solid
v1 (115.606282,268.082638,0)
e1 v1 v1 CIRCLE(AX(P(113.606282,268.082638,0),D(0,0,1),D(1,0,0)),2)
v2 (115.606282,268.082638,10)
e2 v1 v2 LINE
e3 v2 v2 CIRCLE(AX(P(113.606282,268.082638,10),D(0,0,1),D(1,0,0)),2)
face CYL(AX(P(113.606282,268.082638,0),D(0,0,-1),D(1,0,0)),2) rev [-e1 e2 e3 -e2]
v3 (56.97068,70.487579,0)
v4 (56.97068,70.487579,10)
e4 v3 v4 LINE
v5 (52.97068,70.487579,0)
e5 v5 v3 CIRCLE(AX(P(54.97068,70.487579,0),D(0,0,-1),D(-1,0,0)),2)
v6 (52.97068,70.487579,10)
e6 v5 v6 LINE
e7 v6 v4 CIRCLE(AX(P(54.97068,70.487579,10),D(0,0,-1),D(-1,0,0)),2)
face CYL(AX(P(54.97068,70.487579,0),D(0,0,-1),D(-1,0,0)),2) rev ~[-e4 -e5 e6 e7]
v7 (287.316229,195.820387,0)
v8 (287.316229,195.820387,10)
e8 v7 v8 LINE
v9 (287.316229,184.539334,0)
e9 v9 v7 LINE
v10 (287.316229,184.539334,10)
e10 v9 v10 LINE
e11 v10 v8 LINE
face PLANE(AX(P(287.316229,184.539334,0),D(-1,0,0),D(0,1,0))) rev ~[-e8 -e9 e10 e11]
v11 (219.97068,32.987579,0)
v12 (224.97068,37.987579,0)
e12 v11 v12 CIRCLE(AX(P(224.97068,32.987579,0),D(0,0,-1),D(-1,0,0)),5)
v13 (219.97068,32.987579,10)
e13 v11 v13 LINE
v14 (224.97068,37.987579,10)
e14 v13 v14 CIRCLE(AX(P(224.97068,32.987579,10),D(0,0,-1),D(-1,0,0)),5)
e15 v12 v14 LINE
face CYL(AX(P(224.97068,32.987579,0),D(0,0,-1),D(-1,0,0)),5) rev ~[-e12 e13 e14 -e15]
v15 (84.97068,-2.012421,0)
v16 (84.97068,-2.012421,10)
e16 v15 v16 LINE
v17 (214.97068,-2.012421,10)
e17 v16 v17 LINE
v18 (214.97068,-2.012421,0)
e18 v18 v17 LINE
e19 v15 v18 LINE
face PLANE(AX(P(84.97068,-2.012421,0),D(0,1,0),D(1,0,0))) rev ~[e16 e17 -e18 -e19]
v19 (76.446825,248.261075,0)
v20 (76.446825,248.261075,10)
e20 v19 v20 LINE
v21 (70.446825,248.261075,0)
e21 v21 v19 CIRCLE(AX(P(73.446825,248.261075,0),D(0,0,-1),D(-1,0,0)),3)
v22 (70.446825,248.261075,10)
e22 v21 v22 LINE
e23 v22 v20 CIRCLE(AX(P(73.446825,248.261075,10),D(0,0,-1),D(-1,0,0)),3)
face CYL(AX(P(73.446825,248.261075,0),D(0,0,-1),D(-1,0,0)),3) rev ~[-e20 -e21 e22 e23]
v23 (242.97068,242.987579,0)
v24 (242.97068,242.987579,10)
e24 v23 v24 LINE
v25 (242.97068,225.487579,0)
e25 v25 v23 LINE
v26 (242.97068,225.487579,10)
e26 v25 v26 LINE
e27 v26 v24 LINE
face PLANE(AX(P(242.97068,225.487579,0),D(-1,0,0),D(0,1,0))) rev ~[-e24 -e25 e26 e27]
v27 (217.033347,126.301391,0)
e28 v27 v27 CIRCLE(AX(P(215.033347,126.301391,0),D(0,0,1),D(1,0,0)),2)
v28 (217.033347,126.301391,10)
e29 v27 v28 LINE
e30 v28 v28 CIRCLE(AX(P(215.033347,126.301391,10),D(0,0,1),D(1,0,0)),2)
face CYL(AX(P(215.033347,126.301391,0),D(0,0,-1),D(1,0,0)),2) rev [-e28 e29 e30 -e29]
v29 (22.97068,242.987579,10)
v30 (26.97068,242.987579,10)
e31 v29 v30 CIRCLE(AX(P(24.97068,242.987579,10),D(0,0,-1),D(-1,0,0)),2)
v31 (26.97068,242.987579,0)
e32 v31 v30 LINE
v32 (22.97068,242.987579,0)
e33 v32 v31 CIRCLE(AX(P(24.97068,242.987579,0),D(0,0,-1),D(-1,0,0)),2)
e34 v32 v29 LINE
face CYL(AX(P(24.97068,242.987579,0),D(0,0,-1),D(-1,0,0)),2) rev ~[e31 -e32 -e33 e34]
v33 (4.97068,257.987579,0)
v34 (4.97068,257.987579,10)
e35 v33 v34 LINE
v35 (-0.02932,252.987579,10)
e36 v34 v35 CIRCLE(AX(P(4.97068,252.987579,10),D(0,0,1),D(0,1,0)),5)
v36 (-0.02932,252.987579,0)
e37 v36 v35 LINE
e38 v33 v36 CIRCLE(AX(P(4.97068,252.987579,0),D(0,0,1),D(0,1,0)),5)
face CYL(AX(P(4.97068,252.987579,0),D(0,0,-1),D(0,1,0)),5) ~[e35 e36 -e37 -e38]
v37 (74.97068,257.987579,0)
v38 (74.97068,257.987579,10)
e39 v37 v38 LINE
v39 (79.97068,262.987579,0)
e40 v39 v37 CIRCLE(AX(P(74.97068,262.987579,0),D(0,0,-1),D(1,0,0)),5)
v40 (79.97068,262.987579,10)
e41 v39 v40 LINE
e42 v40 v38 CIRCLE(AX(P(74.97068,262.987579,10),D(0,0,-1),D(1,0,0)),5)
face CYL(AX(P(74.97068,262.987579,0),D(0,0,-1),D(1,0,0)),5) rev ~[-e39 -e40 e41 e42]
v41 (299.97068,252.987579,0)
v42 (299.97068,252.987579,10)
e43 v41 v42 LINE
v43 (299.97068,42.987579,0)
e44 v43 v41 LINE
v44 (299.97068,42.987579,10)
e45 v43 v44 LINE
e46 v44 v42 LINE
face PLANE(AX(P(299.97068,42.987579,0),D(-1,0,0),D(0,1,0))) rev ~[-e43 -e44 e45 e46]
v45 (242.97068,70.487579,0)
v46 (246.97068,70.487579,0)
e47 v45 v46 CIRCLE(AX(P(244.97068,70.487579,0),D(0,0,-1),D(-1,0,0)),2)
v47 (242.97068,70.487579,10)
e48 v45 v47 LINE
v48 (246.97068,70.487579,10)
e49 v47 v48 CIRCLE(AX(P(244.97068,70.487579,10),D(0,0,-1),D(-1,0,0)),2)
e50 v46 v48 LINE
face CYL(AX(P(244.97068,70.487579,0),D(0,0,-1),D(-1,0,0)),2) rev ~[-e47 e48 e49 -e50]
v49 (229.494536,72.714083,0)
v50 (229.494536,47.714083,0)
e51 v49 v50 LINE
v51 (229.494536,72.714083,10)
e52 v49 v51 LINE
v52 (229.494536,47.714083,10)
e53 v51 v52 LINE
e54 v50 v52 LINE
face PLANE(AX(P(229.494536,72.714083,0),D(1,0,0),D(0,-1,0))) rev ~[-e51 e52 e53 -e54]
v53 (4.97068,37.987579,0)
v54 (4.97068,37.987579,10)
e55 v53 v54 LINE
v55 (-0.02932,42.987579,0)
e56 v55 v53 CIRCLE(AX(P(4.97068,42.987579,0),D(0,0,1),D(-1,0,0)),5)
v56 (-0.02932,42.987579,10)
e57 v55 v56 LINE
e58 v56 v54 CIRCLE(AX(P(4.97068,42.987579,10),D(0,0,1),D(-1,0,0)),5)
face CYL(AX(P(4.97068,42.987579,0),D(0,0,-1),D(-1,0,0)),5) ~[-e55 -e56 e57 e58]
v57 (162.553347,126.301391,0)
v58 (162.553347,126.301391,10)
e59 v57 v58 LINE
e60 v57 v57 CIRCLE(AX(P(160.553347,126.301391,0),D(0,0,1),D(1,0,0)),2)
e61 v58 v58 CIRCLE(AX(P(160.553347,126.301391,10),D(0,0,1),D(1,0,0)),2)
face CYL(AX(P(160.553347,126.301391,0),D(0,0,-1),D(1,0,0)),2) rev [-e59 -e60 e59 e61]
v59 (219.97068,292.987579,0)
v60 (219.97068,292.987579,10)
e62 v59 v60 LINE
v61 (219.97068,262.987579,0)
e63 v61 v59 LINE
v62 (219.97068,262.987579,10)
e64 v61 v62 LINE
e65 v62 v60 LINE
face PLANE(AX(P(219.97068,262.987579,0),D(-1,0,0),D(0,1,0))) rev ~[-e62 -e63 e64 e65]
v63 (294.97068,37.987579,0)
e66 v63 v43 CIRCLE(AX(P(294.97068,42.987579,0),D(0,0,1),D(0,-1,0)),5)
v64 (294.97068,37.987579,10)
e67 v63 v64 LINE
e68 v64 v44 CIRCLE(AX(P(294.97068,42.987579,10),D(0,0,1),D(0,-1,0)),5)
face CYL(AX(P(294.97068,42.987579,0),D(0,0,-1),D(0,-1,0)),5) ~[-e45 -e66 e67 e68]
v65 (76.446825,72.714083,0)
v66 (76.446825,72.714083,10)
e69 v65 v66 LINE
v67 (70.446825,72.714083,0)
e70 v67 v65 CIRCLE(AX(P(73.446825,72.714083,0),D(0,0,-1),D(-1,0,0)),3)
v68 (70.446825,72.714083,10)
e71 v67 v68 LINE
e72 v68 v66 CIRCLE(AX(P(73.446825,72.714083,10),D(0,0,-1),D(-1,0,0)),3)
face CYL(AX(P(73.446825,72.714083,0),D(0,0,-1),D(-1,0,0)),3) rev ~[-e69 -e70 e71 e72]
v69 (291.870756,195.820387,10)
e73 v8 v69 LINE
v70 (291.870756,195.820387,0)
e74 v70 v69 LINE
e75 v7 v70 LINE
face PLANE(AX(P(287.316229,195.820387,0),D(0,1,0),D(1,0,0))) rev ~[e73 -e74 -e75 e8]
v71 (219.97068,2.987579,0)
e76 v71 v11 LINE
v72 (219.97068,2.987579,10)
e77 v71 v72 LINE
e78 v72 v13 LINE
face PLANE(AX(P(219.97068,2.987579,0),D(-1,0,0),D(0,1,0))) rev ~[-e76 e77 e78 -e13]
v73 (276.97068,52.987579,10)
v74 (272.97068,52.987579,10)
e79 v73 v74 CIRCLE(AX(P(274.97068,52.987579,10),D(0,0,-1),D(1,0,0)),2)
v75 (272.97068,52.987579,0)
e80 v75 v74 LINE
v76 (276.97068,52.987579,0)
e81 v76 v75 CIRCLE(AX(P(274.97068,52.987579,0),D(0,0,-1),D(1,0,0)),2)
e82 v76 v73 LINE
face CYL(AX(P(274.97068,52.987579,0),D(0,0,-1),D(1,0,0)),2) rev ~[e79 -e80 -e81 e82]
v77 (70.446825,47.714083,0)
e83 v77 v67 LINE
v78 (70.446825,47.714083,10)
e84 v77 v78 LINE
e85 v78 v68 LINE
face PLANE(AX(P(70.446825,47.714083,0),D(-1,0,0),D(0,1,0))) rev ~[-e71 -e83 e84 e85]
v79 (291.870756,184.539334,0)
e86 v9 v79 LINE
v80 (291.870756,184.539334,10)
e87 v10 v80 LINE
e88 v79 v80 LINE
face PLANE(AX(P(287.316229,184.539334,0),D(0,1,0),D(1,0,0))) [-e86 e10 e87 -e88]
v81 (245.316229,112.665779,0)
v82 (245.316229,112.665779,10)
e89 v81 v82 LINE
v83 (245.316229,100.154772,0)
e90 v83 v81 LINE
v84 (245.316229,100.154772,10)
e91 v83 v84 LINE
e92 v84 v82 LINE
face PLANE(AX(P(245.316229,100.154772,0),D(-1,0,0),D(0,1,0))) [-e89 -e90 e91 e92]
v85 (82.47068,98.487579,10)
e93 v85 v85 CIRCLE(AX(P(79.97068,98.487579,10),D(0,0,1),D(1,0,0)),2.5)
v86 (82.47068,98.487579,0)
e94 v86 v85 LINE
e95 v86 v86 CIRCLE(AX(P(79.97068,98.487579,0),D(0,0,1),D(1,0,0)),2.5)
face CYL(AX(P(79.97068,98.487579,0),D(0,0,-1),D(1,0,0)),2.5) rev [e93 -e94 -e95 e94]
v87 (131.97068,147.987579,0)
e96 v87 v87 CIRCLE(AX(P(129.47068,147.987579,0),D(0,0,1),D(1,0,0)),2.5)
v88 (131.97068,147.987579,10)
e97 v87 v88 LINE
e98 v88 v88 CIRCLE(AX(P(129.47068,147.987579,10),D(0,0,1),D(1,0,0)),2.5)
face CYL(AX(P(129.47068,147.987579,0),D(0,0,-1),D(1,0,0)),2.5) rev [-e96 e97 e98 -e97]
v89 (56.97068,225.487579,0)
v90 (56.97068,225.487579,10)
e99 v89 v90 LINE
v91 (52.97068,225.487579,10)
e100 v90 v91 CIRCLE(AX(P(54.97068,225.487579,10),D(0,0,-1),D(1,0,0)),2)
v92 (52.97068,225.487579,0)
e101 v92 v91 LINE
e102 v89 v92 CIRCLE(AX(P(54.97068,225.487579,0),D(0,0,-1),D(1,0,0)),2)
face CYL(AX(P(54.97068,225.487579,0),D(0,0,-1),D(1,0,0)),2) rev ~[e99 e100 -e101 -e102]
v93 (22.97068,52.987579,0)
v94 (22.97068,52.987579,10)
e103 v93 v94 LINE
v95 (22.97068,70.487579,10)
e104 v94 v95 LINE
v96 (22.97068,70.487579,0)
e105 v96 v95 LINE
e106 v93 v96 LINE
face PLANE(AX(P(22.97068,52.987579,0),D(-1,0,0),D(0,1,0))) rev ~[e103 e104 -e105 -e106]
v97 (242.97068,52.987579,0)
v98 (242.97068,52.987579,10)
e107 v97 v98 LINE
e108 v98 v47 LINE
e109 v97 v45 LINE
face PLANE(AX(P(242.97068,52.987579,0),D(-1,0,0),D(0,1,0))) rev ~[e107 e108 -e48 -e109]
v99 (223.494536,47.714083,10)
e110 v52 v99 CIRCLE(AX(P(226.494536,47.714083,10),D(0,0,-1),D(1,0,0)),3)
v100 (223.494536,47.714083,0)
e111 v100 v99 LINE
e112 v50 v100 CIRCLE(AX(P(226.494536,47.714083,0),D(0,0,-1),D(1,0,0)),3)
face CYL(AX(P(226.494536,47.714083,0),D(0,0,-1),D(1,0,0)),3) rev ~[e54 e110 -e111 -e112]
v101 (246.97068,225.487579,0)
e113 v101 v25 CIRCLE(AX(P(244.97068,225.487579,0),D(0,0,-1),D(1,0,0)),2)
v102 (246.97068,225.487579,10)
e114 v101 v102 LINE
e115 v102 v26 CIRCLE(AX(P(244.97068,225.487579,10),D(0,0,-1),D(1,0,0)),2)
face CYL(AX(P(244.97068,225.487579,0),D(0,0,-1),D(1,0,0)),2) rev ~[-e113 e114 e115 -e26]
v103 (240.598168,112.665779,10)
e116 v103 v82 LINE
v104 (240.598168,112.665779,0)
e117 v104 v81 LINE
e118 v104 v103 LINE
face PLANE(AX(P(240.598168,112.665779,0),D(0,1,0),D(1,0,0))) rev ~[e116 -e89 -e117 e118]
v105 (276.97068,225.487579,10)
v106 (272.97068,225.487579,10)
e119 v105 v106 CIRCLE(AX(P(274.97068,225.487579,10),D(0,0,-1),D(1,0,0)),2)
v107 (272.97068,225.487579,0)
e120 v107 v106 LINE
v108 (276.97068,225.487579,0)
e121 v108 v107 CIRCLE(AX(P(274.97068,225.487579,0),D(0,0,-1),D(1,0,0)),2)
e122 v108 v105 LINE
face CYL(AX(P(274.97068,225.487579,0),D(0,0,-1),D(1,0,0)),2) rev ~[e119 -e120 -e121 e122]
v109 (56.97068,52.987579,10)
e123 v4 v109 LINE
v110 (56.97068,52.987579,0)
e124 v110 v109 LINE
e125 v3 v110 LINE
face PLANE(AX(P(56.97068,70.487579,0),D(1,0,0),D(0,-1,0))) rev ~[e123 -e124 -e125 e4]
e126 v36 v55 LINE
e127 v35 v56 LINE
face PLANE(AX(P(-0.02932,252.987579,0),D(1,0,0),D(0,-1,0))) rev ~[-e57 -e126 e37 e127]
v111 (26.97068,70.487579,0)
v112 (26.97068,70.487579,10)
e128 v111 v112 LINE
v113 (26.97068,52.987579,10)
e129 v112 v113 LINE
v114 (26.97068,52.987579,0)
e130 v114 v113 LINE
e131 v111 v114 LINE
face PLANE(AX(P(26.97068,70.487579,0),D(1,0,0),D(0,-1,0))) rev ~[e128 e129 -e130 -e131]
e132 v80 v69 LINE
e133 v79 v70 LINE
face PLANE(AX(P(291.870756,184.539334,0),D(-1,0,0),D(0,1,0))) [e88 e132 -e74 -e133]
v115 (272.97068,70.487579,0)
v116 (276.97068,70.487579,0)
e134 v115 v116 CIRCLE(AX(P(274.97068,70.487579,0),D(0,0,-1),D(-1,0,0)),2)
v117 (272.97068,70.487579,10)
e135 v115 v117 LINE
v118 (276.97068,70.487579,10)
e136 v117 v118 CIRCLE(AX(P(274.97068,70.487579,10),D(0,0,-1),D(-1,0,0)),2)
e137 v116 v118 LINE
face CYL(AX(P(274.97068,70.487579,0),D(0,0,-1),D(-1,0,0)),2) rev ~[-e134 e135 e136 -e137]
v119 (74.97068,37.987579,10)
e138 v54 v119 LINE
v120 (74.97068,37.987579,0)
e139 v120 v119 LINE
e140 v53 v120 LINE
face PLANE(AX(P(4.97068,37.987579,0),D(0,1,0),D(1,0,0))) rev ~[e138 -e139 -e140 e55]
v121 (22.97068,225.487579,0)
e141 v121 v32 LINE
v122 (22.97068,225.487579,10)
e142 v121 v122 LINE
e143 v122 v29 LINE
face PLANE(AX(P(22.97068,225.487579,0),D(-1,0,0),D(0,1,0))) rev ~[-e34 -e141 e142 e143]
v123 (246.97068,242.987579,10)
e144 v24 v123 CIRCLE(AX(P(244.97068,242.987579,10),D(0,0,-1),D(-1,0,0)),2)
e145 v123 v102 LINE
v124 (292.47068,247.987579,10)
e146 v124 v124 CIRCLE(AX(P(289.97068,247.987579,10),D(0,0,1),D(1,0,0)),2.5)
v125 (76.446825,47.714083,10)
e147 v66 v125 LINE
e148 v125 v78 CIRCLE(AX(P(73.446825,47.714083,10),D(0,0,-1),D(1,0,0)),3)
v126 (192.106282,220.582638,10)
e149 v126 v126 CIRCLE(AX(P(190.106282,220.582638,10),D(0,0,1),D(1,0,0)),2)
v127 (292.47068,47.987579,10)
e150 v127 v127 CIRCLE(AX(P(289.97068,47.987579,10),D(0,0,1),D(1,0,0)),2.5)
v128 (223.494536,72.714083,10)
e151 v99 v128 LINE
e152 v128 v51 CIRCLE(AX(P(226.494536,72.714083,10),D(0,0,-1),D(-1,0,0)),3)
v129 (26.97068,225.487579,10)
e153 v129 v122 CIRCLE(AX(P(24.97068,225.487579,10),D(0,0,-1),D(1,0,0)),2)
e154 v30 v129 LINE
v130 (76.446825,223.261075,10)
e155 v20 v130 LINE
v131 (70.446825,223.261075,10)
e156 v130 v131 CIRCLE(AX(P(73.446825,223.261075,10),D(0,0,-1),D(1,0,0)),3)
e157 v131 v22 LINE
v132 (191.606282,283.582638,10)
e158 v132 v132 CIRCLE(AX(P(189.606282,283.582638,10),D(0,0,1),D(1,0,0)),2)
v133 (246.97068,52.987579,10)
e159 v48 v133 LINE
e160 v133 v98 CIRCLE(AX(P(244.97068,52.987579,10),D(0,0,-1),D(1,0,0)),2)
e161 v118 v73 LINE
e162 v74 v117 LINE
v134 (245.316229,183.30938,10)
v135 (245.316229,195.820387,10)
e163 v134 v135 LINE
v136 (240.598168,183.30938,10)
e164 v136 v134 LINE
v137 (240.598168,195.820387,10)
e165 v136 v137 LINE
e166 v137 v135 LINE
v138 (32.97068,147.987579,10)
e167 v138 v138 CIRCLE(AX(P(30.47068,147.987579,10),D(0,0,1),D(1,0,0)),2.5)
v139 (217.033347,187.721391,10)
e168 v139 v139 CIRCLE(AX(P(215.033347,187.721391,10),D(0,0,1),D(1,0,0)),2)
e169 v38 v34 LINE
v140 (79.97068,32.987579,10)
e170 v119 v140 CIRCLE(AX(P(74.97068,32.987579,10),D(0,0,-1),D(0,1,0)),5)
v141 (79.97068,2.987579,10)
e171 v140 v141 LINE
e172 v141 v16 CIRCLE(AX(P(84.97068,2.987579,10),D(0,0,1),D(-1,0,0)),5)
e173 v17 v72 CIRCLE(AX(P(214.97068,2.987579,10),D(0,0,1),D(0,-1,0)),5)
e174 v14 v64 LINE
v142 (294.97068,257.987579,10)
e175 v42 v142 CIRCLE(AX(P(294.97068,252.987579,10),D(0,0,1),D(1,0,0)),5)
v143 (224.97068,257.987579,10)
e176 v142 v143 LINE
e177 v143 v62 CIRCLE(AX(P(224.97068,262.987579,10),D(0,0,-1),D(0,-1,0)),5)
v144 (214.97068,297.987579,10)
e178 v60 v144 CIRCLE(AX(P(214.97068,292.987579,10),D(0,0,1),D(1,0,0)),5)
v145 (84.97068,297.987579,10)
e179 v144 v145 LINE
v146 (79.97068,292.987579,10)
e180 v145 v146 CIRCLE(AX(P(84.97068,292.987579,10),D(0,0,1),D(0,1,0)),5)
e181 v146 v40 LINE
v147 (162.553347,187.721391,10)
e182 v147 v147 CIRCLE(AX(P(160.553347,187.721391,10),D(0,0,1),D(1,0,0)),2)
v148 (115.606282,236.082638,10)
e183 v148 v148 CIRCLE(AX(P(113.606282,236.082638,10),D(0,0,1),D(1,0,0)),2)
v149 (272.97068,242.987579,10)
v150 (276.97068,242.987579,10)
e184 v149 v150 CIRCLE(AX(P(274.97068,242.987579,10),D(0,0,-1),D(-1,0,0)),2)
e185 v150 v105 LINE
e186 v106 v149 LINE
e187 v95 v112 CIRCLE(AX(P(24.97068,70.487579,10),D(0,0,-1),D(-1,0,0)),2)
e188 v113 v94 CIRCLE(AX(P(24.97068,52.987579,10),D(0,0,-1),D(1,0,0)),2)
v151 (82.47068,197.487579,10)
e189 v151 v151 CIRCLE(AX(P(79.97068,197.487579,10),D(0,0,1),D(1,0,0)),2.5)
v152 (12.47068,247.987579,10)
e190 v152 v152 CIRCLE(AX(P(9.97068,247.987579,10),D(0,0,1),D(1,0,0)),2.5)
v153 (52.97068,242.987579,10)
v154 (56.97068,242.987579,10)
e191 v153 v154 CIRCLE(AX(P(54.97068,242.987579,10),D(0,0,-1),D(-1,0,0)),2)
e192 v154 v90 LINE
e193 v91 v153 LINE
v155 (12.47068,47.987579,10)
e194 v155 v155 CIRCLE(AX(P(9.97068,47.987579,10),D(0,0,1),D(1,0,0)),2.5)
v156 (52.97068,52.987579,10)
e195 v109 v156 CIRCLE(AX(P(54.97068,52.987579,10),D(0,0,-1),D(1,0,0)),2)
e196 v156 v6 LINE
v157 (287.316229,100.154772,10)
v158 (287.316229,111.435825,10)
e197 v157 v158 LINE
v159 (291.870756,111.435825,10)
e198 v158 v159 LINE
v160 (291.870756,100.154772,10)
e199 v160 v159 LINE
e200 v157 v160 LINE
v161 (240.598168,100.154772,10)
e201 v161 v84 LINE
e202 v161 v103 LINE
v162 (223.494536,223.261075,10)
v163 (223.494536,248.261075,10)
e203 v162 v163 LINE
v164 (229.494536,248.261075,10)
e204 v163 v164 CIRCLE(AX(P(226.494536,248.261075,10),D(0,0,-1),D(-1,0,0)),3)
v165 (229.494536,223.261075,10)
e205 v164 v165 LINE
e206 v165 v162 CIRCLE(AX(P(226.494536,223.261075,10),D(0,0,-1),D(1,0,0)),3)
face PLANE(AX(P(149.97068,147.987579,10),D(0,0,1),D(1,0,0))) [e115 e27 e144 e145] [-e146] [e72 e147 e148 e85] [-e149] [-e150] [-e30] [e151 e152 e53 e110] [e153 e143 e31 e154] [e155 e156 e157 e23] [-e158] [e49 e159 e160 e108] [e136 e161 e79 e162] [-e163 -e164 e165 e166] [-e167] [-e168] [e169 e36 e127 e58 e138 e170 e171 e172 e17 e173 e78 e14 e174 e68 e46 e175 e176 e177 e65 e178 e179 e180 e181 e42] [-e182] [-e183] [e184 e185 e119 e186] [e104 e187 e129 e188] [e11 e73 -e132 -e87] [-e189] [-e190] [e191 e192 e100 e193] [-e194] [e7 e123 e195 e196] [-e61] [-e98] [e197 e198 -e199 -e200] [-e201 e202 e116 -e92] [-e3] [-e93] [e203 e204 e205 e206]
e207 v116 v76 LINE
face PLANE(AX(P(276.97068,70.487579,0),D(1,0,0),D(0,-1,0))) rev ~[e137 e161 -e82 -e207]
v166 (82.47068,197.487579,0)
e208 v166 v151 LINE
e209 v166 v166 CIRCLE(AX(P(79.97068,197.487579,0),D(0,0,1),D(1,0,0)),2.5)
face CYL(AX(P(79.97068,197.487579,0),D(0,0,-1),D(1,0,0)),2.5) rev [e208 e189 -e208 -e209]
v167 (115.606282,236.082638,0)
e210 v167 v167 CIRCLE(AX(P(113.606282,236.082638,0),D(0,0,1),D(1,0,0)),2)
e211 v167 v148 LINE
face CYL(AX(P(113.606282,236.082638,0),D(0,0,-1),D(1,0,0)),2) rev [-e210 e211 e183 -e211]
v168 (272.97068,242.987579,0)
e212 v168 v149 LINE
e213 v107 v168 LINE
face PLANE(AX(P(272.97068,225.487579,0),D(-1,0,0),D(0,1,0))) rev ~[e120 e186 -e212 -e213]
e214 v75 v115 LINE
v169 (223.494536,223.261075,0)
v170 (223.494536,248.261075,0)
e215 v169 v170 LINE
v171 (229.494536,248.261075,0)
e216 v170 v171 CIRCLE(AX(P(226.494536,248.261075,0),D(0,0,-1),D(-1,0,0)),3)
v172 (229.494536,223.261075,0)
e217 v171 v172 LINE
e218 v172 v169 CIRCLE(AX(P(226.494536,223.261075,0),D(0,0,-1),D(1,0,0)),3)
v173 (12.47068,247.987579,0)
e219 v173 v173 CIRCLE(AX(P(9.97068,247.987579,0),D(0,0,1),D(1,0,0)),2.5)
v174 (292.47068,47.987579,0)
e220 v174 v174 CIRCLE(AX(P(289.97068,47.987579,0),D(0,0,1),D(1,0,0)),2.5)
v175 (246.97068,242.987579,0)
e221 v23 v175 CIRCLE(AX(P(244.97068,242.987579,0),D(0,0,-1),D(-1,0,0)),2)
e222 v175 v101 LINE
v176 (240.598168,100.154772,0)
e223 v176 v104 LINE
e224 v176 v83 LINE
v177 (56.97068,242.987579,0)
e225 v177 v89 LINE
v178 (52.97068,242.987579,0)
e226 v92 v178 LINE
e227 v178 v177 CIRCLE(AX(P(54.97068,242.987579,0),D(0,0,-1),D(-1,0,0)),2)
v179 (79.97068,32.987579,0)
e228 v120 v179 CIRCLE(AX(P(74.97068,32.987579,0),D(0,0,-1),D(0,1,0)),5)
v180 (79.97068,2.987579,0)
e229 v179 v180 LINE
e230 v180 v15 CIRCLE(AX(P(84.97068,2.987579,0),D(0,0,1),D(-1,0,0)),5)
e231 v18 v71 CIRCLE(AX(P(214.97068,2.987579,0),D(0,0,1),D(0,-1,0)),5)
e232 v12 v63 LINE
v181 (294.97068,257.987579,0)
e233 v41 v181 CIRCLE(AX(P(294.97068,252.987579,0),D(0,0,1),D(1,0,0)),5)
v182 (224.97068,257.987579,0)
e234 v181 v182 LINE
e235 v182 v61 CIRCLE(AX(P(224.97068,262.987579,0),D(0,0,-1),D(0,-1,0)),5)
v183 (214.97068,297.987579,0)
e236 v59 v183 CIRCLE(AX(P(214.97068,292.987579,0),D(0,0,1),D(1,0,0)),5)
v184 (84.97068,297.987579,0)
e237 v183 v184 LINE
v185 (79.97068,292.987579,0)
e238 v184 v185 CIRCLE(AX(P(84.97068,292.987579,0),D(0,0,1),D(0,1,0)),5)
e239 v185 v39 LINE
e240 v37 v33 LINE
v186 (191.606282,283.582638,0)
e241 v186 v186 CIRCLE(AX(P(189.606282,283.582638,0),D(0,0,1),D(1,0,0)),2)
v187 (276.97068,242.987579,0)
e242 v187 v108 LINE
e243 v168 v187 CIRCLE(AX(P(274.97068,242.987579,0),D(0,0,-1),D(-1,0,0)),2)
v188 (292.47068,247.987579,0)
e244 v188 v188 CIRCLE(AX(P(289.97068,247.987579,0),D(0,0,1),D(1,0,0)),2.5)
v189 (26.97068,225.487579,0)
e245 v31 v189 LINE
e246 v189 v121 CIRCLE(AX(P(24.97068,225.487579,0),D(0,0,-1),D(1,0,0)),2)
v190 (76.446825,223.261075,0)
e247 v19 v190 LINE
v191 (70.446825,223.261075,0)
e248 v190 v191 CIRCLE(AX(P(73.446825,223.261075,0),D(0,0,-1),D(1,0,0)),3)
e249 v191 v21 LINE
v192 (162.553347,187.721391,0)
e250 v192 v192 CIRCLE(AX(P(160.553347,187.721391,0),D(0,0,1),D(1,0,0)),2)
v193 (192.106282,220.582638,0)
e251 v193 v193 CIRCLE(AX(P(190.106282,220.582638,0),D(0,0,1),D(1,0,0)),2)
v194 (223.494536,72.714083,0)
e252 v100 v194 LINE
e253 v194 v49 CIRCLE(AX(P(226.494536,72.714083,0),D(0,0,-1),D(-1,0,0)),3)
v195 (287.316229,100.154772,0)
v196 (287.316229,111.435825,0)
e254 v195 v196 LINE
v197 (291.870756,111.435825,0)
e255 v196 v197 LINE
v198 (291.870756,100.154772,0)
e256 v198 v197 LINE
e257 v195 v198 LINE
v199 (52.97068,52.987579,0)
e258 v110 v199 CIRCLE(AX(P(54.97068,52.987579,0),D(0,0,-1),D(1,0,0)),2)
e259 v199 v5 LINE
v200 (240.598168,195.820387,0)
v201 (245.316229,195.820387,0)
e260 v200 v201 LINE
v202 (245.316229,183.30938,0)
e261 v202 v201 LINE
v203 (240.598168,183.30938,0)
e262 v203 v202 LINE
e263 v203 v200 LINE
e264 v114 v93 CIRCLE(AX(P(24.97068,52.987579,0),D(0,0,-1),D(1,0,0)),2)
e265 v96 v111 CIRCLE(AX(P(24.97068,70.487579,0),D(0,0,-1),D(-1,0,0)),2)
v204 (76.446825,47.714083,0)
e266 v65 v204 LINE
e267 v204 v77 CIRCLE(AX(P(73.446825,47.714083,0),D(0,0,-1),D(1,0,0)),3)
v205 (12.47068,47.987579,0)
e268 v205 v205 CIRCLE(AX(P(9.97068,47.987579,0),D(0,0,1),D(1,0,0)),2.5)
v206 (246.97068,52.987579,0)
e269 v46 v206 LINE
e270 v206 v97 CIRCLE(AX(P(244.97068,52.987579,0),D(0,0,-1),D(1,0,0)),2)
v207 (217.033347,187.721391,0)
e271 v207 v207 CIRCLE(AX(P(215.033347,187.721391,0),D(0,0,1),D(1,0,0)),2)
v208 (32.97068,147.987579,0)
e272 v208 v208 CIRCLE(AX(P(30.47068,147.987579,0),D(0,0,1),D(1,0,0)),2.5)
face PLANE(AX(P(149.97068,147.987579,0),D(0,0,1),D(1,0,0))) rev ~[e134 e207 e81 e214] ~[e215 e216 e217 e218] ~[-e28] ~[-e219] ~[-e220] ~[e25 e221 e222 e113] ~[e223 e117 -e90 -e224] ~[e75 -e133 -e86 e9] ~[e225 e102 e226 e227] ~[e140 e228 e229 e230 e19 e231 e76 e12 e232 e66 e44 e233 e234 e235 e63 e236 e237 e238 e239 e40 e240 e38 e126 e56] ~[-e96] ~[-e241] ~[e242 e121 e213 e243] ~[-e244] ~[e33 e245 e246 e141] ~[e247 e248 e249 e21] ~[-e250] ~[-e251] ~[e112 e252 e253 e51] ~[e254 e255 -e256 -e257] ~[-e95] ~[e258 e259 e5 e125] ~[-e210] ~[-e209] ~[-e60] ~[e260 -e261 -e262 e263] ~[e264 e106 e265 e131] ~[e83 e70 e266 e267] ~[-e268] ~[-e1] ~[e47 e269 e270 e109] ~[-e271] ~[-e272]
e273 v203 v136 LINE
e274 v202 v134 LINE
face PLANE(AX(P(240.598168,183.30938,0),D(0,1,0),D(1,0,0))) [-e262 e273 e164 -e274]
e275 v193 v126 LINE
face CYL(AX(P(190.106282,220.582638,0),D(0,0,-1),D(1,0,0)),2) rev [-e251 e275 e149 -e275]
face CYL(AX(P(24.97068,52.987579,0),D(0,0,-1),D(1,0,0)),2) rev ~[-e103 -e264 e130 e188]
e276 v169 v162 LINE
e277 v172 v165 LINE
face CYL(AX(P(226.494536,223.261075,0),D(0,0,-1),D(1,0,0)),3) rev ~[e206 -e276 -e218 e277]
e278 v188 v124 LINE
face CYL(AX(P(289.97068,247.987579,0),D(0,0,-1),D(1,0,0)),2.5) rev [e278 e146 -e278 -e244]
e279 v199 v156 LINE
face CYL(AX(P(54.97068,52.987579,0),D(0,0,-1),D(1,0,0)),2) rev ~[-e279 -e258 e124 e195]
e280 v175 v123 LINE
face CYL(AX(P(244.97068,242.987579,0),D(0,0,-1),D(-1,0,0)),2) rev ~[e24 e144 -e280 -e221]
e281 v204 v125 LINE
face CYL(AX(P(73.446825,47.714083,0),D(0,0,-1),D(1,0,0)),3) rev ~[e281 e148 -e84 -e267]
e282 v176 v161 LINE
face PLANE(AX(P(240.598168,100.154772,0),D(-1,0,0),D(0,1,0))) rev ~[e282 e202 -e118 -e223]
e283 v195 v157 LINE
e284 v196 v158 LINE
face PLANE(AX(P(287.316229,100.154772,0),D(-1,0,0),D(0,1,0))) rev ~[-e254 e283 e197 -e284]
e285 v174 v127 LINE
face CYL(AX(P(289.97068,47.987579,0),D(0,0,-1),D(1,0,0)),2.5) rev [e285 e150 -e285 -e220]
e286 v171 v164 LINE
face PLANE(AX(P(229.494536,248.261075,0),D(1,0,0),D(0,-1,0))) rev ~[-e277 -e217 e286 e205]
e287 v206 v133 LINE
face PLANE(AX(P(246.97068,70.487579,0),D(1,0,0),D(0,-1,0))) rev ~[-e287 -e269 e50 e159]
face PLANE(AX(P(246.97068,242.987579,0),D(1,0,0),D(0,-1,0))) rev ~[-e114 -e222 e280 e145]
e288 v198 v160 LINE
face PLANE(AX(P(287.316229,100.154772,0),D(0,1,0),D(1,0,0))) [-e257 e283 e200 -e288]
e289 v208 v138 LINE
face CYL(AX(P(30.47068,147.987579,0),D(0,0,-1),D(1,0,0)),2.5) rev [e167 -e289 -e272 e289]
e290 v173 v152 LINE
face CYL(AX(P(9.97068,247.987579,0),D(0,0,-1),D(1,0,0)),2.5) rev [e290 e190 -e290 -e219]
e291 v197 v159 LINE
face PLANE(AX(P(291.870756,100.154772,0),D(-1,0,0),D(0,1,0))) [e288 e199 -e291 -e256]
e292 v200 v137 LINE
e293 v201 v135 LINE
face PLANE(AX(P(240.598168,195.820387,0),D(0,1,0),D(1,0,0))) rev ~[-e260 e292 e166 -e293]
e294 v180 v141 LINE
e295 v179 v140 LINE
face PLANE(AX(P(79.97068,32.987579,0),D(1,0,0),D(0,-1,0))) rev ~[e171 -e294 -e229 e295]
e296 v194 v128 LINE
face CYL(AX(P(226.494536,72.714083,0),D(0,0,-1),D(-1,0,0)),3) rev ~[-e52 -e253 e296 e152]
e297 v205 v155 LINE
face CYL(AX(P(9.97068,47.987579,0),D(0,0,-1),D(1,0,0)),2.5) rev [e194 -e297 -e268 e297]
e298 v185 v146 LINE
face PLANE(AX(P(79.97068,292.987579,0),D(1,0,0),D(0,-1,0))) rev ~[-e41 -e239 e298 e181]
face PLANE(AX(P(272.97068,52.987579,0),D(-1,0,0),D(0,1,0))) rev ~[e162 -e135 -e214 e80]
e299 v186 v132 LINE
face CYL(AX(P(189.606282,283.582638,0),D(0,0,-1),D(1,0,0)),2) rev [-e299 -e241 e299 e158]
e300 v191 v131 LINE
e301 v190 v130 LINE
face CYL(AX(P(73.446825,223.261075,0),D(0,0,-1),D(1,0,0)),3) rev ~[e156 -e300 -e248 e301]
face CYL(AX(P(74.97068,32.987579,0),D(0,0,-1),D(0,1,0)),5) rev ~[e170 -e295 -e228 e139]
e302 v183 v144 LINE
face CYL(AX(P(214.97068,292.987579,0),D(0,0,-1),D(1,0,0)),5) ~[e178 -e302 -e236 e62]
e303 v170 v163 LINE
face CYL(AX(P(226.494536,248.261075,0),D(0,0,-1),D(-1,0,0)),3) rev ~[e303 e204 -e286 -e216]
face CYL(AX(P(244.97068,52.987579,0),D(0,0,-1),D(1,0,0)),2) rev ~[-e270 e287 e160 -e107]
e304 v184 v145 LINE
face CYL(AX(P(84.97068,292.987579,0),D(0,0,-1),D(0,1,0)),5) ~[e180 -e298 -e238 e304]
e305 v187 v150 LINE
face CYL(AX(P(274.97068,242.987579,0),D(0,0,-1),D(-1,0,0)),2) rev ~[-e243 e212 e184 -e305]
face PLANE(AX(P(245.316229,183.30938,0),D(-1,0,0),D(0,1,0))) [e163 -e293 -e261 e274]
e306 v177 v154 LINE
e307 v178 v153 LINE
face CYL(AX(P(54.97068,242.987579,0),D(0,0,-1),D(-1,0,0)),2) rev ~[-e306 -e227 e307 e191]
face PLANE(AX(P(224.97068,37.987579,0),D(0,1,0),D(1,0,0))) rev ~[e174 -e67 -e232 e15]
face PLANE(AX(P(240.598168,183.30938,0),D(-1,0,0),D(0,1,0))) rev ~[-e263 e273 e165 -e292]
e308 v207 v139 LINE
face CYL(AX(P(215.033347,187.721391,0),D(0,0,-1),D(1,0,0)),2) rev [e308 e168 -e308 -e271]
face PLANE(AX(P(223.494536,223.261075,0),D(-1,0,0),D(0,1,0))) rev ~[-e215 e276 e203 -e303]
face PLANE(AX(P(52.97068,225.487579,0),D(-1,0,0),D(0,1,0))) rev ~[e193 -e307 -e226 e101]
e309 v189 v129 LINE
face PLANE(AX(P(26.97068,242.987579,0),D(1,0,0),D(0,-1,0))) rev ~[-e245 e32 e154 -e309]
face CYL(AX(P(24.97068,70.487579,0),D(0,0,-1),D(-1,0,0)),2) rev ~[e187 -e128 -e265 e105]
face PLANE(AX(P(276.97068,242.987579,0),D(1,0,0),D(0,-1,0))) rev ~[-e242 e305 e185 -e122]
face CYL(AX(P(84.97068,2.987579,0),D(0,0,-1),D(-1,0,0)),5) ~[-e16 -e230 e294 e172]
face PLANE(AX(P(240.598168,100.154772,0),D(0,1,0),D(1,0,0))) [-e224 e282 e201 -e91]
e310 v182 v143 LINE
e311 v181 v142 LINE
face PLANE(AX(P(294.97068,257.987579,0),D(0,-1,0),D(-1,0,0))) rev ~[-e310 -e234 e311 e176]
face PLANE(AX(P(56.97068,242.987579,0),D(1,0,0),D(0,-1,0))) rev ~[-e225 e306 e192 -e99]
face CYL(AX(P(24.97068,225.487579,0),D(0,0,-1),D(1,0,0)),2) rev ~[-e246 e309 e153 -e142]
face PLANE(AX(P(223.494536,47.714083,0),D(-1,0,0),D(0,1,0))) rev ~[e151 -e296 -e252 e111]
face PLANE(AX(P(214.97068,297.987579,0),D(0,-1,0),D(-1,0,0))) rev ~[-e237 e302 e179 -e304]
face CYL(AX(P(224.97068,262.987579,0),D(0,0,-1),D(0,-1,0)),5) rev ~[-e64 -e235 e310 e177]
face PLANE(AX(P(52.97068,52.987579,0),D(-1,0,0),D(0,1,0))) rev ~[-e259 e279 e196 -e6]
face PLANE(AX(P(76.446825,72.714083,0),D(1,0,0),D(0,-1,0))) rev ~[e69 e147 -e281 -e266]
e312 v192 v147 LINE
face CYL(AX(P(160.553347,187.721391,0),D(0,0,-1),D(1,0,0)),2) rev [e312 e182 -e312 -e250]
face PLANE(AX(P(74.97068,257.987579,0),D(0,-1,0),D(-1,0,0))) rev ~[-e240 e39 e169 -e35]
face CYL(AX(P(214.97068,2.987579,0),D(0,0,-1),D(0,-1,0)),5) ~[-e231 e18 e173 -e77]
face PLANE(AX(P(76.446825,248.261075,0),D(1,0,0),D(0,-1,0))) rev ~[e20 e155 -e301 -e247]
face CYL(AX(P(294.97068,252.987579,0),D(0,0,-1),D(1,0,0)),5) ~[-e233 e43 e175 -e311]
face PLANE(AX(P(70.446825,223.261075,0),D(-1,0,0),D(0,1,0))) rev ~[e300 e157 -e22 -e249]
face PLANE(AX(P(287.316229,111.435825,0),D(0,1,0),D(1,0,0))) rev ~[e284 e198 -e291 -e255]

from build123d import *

# Parameters (mm, degrees)
SKETCH_1_R      = 2.5
SKETCH_1_R_2    = 2
SKETCH_1_W      = 4.718060626
SKETCH_1_H      = 12.511006694
SKETCH_1_W_2    = 4.554527511
SKETCH_1_H_2    = 11.281053154
SKETCH_1_H_3    = 12.511006695
SKETCH_1_H_4    = 11.281053155
EXTRUDE_1_DEPTH = 10


with BuildPart() as part:
    # 草图1 → 凸台-拉伸1 (new body)
    with BuildSketch(Plane.XY):
        with BuildLine():
            ThreePointArc((79.970680431, 2.987579423), (81.435146525, -0.547954483), (84.970680431, -2.012420577))
            Line((84.970680431, -2.012420577), (214.970680431, -2.012420577))
            ThreePointArc((214.970680431, -2.012420577), (218.506214337, -0.547954483), (219.970680431, 2.987579423))
            Line((219.970680431, 2.987579423), (219.970680431, 32.987579423))
            ThreePointArc((219.970680431, 32.987579423), (221.435146525, 36.523113329), (224.970680431, 37.987579423))
            Line((224.970680431, 37.987579423), (294.970680431, 37.987579423))
            ThreePointArc((294.970680431, 37.987579423), (298.506214337, 39.452045517), (299.970680431, 42.987579423))
            Line((299.970680431, 42.987579423), (299.970680431, 252.987579423))
            ThreePointArc((299.970680431, 252.987579423), (298.506214337, 256.523113329), (294.970680431, 257.987579423))
            Line((294.970680431, 257.987579423), (224.970680431, 257.987579423))
            ThreePointArc((224.970680431, 257.987579423), (221.435146525, 259.452045517), (219.970680431, 262.987579423))
            Line((219.970680431, 262.987579423), (219.970680431, 292.987579423))
            ThreePointArc((219.970680431, 292.987579423), (218.506214337, 296.523113329), (214.970680431, 297.987579423))
            Line((214.970680431, 297.987579423), (84.970680431, 297.987579423))
            ThreePointArc((84.970680431, 297.987579423), (81.435146525, 296.523113329), (79.970680431, 292.987579423))
            Line((79.970680431, 292.987579423), (79.970680431, 262.987579423))
            ThreePointArc((79.970680431, 262.987579423), (78.506214337, 259.452045517), (74.970680431, 257.987579423))
            Line((74.970680431, 257.987579423), (4.970680431, 257.987579423))
            ThreePointArc((4.970680431, 257.987579423), (1.435146525, 256.523113329), (-0.029319569, 252.987579423))
            Line((-0.029319569, 252.987579423), (-0.029319569, 42.987579423))
            ThreePointArc((-0.029319569, 42.987579423), (1.435146525, 39.452045517), (4.970680431, 37.987579423))
            Line((4.970680431, 37.987579423), (74.970680431, 37.987579423))
            ThreePointArc((74.970680431, 37.987579423), (78.506214337, 36.523113329), (79.970680431, 32.987579423))
            Line((79.970680431, 32.987579423), (79.970680431, 2.987579423))
        make_face()
        with Locations((9.970680431, 47.987579423)):
            Circle(SKETCH_1_R, mode=Mode.SUBTRACT)
        with BuildLine():
            ThreePointArc((22.970680431, 70.487579423), (24.970680431, 72.487579423), (26.970680431, 70.487579423))
            Line((26.970680431, 70.487579423), (26.970680431, 52.987579423))
            ThreePointArc((26.970680431, 52.987579423), (24.970680431, 50.987579423), (22.970680431, 52.987579423))
            Line((22.970680431, 52.987579423), (22.970680431, 70.487579423))
        make_face(mode=Mode.SUBTRACT)
        with BuildLine():
            ThreePointArc((52.970680431, 70.487579423), (54.970680431, 72.487579423), (56.970680431, 70.487579423))
            Line((56.970680431, 70.487579423), (56.970680431, 52.987579423))
            ThreePointArc((56.970680431, 52.987579423), (54.970680431, 50.987579423), (52.970680431, 52.987579423))
            Line((52.970680431, 52.987579423), (52.970680431, 70.487579423))
        make_face(mode=Mode.SUBTRACT)
        with BuildLine():
            ThreePointArc((76.446824756, 47.714083435), (73.446824756, 44.714083435), (70.446824756, 47.714083435))
            Line((70.446824756, 47.714083435), (70.446824756, 72.714083435))
            ThreePointArc((70.446824756, 72.714083435), (73.446824756, 75.714083435), (76.446824756, 72.714083435))
            Line((76.446824756, 72.714083435), (76.446824756, 47.714083435))
        make_face(mode=Mode.SUBTRACT)
        with Locations((30.470680431, 147.987579423)):
            Circle(SKETCH_1_R, mode=Mode.SUBTRACT)
        with Locations((79.970680431, 98.487579423)):
            Circle(SKETCH_1_R, mode=Mode.SUBTRACT)
        with Locations((129.470680431, 147.987579423)):
            Circle(SKETCH_1_R, mode=Mode.SUBTRACT)
        with BuildLine():
            Line((229.494536105, 72.714083435), (229.494536105, 47.714083435))
            ThreePointArc((229.494536105, 47.714083435), (226.494536105, 44.714083435), (223.494536105, 47.714083435))
            Line((223.494536105, 47.714083435), (223.494536105, 72.714083435))
            ThreePointArc((223.494536105, 72.714083435), (226.494536105, 75.714083435), (229.494536105, 72.714083435))
        make_face(mode=Mode.SUBTRACT)
        with BuildLine():
            ThreePointArc((242.970680431, 70.487579423), (244.970680431, 72.487579423), (246.970680431, 70.487579423))
            Line((246.970680431, 70.487579423), (246.970680431, 52.987579423))
            ThreePointArc((246.970680431, 52.987579423), (244.970680431, 50.987579423), (242.970680431, 52.987579423))
            Line((242.970680431, 52.987579423), (242.970680431, 70.487579423))
        make_face(mode=Mode.SUBTRACT)
        with Locations((289.970680431, 47.987579423)):
            Circle(SKETCH_1_R, mode=Mode.SUBTRACT)
        with BuildLine():
            ThreePointArc((276.970680431, 52.987579423), (274.970680431, 50.987579423), (272.970680431, 52.987579423))
            Line((272.970680431, 52.987579423), (272.970680431, 70.487579423))
            ThreePointArc((272.970680431, 70.487579423), (274.970680431, 72.487579423), (276.970680431, 70.487579423))
            Line((276.970680431, 70.487579423), (276.970680431, 52.987579423))
        make_face(mode=Mode.SUBTRACT)
        with Locations((160.553347356, 126.301390813)):
            Circle(SKETCH_1_R_2, mode=Mode.SUBTRACT)
        with Locations((215.033347356, 126.301390813)):
            Circle(SKETCH_1_R_2, mode=Mode.SUBTRACT)
        with Locations((242.957198236, 106.410275276)):
            Rectangle(SKETCH_1_W, SKETCH_1_H, mode=Mode.SUBTRACT)
        with Locations((289.593492305, 105.795298506)):
            Rectangle(SKETCH_1_W_2, SKETCH_1_H_2, mode=Mode.SUBTRACT)
        with Locations((79.970680431, 197.487579423)):
            Circle(SKETCH_1_R, mode=Mode.SUBTRACT)
        with BuildLine():
            Line((26.970680431, 242.987579423), (26.970680431, 225.487579423))
            ThreePointArc((26.970680431, 225.487579423), (24.970680431, 223.487579423), (22.970680431, 225.487579423))
            Line((22.970680431, 225.487579423), (22.970680431, 242.987579423))
            ThreePointArc((22.970680431, 242.987579423), (24.970680431, 244.987579423), (26.970680431, 242.987579423))
        make_face(mode=Mode.SUBTRACT)
        with Locations((9.970680431, 247.987579423)):
            Circle(SKETCH_1_R, mode=Mode.SUBTRACT)
        with BuildLine():
            Line((56.970680431, 242.987579423), (56.970680431, 225.487579423))
            ThreePointArc((56.970680431, 225.487579423), (54.970680431, 223.487579423), (52.970680431, 225.487579423))
            Line((52.970680431, 225.487579423), (52.970680431, 242.987579423))
            ThreePointArc((52.970680431, 242.987579423), (54.970680431, 244.987579423), (56.970680431, 242.987579423))
        make_face(mode=Mode.SUBTRACT)
        with BuildLine():
            Line((70.446824756, 223.261075411), (70.446824756, 248.261075411))
            ThreePointArc((70.446824756, 248.261075411), (73.446824756, 251.261075411), (76.446824756, 248.261075411))
            Line((76.446824756, 248.261075411), (76.446824756, 223.261075411))
            ThreePointArc((76.446824756, 223.261075411), (73.446824756, 220.261075411), (70.446824756, 223.261075411))
        make_face(mode=Mode.SUBTRACT)
        with Locations((113.606281629, 236.082638095)):
            Circle(SKETCH_1_R_2, mode=Mode.SUBTRACT)
        with Locations((113.606281629, 268.082638095)):
            Circle(SKETCH_1_R_2, mode=Mode.SUBTRACT)
        with Locations((160.553347356, 187.721390813)):
            Circle(SKETCH_1_R_2, mode=Mode.SUBTRACT)
        with Locations((215.033347356, 187.721390813)):
            Circle(SKETCH_1_R_2, mode=Mode.SUBTRACT)
        with Locations((190.106281629, 220.582638095)):
            Circle(SKETCH_1_R_2, mode=Mode.SUBTRACT)
        with Locations((242.957198236, 189.56488357)):
            Rectangle(SKETCH_1_W, SKETCH_1_H_3, mode=Mode.SUBTRACT)
        with Locations((289.593492305, 190.17986034)):
            Rectangle(SKETCH_1_W_2, SKETCH_1_H_4, mode=Mode.SUBTRACT)
        with Locations((189.606281629, 283.582638095)):
            Circle(SKETCH_1_R_2, mode=Mode.SUBTRACT)
        with BuildLine():
            ThreePointArc((223.494536105, 248.261075411), (226.494536105, 251.261075411), (229.494536105, 248.261075411))
            Line((229.494536105, 248.261075411), (229.494536105, 223.261075411))
            ThreePointArc((229.494536105, 223.261075411), (226.494536105, 220.261075411), (223.494536105, 223.261075411))
            Line((223.494536105, 223.261075411), (223.494536105, 248.261075411))
        make_face(mode=Mode.SUBTRACT)
        with BuildLine():
            Line((246.970680431, 242.987579423), (246.970680431, 225.487579423))
            ThreePointArc((246.970680431, 225.487579423), (244.970680431, 223.487579423), (242.970680431, 225.487579423))
            Line((242.970680431, 225.487579423), (242.970680431, 242.987579423))
            ThreePointArc((242.970680431, 242.987579423), (244.970680431, 244.987579423), (246.970680431, 242.987579423))
        make_face(mode=Mode.SUBTRACT)
        with BuildLine():
            Line((272.970680431, 225.487579423), (272.970680431, 242.987579423))
            ThreePointArc((272.970680431, 242.987579423), (274.970680431, 244.987579423), (276.970680431, 242.987579423))
            Line((276.970680431, 242.987579423), (276.970680431, 225.487579423))
            ThreePointArc((276.970680431, 225.487579423), (274.970680431, 223.487579423), (272.970680431, 225.487579423))
        make_face(mode=Mode.SUBTRACT)
        with Locations((289.970680431, 247.987579423)):
            Circle(SKETCH_1_R, mode=Mode.SUBTRACT)
    extrude(amount=EXTRUDE_1_DEPTH)


solid = part.part
